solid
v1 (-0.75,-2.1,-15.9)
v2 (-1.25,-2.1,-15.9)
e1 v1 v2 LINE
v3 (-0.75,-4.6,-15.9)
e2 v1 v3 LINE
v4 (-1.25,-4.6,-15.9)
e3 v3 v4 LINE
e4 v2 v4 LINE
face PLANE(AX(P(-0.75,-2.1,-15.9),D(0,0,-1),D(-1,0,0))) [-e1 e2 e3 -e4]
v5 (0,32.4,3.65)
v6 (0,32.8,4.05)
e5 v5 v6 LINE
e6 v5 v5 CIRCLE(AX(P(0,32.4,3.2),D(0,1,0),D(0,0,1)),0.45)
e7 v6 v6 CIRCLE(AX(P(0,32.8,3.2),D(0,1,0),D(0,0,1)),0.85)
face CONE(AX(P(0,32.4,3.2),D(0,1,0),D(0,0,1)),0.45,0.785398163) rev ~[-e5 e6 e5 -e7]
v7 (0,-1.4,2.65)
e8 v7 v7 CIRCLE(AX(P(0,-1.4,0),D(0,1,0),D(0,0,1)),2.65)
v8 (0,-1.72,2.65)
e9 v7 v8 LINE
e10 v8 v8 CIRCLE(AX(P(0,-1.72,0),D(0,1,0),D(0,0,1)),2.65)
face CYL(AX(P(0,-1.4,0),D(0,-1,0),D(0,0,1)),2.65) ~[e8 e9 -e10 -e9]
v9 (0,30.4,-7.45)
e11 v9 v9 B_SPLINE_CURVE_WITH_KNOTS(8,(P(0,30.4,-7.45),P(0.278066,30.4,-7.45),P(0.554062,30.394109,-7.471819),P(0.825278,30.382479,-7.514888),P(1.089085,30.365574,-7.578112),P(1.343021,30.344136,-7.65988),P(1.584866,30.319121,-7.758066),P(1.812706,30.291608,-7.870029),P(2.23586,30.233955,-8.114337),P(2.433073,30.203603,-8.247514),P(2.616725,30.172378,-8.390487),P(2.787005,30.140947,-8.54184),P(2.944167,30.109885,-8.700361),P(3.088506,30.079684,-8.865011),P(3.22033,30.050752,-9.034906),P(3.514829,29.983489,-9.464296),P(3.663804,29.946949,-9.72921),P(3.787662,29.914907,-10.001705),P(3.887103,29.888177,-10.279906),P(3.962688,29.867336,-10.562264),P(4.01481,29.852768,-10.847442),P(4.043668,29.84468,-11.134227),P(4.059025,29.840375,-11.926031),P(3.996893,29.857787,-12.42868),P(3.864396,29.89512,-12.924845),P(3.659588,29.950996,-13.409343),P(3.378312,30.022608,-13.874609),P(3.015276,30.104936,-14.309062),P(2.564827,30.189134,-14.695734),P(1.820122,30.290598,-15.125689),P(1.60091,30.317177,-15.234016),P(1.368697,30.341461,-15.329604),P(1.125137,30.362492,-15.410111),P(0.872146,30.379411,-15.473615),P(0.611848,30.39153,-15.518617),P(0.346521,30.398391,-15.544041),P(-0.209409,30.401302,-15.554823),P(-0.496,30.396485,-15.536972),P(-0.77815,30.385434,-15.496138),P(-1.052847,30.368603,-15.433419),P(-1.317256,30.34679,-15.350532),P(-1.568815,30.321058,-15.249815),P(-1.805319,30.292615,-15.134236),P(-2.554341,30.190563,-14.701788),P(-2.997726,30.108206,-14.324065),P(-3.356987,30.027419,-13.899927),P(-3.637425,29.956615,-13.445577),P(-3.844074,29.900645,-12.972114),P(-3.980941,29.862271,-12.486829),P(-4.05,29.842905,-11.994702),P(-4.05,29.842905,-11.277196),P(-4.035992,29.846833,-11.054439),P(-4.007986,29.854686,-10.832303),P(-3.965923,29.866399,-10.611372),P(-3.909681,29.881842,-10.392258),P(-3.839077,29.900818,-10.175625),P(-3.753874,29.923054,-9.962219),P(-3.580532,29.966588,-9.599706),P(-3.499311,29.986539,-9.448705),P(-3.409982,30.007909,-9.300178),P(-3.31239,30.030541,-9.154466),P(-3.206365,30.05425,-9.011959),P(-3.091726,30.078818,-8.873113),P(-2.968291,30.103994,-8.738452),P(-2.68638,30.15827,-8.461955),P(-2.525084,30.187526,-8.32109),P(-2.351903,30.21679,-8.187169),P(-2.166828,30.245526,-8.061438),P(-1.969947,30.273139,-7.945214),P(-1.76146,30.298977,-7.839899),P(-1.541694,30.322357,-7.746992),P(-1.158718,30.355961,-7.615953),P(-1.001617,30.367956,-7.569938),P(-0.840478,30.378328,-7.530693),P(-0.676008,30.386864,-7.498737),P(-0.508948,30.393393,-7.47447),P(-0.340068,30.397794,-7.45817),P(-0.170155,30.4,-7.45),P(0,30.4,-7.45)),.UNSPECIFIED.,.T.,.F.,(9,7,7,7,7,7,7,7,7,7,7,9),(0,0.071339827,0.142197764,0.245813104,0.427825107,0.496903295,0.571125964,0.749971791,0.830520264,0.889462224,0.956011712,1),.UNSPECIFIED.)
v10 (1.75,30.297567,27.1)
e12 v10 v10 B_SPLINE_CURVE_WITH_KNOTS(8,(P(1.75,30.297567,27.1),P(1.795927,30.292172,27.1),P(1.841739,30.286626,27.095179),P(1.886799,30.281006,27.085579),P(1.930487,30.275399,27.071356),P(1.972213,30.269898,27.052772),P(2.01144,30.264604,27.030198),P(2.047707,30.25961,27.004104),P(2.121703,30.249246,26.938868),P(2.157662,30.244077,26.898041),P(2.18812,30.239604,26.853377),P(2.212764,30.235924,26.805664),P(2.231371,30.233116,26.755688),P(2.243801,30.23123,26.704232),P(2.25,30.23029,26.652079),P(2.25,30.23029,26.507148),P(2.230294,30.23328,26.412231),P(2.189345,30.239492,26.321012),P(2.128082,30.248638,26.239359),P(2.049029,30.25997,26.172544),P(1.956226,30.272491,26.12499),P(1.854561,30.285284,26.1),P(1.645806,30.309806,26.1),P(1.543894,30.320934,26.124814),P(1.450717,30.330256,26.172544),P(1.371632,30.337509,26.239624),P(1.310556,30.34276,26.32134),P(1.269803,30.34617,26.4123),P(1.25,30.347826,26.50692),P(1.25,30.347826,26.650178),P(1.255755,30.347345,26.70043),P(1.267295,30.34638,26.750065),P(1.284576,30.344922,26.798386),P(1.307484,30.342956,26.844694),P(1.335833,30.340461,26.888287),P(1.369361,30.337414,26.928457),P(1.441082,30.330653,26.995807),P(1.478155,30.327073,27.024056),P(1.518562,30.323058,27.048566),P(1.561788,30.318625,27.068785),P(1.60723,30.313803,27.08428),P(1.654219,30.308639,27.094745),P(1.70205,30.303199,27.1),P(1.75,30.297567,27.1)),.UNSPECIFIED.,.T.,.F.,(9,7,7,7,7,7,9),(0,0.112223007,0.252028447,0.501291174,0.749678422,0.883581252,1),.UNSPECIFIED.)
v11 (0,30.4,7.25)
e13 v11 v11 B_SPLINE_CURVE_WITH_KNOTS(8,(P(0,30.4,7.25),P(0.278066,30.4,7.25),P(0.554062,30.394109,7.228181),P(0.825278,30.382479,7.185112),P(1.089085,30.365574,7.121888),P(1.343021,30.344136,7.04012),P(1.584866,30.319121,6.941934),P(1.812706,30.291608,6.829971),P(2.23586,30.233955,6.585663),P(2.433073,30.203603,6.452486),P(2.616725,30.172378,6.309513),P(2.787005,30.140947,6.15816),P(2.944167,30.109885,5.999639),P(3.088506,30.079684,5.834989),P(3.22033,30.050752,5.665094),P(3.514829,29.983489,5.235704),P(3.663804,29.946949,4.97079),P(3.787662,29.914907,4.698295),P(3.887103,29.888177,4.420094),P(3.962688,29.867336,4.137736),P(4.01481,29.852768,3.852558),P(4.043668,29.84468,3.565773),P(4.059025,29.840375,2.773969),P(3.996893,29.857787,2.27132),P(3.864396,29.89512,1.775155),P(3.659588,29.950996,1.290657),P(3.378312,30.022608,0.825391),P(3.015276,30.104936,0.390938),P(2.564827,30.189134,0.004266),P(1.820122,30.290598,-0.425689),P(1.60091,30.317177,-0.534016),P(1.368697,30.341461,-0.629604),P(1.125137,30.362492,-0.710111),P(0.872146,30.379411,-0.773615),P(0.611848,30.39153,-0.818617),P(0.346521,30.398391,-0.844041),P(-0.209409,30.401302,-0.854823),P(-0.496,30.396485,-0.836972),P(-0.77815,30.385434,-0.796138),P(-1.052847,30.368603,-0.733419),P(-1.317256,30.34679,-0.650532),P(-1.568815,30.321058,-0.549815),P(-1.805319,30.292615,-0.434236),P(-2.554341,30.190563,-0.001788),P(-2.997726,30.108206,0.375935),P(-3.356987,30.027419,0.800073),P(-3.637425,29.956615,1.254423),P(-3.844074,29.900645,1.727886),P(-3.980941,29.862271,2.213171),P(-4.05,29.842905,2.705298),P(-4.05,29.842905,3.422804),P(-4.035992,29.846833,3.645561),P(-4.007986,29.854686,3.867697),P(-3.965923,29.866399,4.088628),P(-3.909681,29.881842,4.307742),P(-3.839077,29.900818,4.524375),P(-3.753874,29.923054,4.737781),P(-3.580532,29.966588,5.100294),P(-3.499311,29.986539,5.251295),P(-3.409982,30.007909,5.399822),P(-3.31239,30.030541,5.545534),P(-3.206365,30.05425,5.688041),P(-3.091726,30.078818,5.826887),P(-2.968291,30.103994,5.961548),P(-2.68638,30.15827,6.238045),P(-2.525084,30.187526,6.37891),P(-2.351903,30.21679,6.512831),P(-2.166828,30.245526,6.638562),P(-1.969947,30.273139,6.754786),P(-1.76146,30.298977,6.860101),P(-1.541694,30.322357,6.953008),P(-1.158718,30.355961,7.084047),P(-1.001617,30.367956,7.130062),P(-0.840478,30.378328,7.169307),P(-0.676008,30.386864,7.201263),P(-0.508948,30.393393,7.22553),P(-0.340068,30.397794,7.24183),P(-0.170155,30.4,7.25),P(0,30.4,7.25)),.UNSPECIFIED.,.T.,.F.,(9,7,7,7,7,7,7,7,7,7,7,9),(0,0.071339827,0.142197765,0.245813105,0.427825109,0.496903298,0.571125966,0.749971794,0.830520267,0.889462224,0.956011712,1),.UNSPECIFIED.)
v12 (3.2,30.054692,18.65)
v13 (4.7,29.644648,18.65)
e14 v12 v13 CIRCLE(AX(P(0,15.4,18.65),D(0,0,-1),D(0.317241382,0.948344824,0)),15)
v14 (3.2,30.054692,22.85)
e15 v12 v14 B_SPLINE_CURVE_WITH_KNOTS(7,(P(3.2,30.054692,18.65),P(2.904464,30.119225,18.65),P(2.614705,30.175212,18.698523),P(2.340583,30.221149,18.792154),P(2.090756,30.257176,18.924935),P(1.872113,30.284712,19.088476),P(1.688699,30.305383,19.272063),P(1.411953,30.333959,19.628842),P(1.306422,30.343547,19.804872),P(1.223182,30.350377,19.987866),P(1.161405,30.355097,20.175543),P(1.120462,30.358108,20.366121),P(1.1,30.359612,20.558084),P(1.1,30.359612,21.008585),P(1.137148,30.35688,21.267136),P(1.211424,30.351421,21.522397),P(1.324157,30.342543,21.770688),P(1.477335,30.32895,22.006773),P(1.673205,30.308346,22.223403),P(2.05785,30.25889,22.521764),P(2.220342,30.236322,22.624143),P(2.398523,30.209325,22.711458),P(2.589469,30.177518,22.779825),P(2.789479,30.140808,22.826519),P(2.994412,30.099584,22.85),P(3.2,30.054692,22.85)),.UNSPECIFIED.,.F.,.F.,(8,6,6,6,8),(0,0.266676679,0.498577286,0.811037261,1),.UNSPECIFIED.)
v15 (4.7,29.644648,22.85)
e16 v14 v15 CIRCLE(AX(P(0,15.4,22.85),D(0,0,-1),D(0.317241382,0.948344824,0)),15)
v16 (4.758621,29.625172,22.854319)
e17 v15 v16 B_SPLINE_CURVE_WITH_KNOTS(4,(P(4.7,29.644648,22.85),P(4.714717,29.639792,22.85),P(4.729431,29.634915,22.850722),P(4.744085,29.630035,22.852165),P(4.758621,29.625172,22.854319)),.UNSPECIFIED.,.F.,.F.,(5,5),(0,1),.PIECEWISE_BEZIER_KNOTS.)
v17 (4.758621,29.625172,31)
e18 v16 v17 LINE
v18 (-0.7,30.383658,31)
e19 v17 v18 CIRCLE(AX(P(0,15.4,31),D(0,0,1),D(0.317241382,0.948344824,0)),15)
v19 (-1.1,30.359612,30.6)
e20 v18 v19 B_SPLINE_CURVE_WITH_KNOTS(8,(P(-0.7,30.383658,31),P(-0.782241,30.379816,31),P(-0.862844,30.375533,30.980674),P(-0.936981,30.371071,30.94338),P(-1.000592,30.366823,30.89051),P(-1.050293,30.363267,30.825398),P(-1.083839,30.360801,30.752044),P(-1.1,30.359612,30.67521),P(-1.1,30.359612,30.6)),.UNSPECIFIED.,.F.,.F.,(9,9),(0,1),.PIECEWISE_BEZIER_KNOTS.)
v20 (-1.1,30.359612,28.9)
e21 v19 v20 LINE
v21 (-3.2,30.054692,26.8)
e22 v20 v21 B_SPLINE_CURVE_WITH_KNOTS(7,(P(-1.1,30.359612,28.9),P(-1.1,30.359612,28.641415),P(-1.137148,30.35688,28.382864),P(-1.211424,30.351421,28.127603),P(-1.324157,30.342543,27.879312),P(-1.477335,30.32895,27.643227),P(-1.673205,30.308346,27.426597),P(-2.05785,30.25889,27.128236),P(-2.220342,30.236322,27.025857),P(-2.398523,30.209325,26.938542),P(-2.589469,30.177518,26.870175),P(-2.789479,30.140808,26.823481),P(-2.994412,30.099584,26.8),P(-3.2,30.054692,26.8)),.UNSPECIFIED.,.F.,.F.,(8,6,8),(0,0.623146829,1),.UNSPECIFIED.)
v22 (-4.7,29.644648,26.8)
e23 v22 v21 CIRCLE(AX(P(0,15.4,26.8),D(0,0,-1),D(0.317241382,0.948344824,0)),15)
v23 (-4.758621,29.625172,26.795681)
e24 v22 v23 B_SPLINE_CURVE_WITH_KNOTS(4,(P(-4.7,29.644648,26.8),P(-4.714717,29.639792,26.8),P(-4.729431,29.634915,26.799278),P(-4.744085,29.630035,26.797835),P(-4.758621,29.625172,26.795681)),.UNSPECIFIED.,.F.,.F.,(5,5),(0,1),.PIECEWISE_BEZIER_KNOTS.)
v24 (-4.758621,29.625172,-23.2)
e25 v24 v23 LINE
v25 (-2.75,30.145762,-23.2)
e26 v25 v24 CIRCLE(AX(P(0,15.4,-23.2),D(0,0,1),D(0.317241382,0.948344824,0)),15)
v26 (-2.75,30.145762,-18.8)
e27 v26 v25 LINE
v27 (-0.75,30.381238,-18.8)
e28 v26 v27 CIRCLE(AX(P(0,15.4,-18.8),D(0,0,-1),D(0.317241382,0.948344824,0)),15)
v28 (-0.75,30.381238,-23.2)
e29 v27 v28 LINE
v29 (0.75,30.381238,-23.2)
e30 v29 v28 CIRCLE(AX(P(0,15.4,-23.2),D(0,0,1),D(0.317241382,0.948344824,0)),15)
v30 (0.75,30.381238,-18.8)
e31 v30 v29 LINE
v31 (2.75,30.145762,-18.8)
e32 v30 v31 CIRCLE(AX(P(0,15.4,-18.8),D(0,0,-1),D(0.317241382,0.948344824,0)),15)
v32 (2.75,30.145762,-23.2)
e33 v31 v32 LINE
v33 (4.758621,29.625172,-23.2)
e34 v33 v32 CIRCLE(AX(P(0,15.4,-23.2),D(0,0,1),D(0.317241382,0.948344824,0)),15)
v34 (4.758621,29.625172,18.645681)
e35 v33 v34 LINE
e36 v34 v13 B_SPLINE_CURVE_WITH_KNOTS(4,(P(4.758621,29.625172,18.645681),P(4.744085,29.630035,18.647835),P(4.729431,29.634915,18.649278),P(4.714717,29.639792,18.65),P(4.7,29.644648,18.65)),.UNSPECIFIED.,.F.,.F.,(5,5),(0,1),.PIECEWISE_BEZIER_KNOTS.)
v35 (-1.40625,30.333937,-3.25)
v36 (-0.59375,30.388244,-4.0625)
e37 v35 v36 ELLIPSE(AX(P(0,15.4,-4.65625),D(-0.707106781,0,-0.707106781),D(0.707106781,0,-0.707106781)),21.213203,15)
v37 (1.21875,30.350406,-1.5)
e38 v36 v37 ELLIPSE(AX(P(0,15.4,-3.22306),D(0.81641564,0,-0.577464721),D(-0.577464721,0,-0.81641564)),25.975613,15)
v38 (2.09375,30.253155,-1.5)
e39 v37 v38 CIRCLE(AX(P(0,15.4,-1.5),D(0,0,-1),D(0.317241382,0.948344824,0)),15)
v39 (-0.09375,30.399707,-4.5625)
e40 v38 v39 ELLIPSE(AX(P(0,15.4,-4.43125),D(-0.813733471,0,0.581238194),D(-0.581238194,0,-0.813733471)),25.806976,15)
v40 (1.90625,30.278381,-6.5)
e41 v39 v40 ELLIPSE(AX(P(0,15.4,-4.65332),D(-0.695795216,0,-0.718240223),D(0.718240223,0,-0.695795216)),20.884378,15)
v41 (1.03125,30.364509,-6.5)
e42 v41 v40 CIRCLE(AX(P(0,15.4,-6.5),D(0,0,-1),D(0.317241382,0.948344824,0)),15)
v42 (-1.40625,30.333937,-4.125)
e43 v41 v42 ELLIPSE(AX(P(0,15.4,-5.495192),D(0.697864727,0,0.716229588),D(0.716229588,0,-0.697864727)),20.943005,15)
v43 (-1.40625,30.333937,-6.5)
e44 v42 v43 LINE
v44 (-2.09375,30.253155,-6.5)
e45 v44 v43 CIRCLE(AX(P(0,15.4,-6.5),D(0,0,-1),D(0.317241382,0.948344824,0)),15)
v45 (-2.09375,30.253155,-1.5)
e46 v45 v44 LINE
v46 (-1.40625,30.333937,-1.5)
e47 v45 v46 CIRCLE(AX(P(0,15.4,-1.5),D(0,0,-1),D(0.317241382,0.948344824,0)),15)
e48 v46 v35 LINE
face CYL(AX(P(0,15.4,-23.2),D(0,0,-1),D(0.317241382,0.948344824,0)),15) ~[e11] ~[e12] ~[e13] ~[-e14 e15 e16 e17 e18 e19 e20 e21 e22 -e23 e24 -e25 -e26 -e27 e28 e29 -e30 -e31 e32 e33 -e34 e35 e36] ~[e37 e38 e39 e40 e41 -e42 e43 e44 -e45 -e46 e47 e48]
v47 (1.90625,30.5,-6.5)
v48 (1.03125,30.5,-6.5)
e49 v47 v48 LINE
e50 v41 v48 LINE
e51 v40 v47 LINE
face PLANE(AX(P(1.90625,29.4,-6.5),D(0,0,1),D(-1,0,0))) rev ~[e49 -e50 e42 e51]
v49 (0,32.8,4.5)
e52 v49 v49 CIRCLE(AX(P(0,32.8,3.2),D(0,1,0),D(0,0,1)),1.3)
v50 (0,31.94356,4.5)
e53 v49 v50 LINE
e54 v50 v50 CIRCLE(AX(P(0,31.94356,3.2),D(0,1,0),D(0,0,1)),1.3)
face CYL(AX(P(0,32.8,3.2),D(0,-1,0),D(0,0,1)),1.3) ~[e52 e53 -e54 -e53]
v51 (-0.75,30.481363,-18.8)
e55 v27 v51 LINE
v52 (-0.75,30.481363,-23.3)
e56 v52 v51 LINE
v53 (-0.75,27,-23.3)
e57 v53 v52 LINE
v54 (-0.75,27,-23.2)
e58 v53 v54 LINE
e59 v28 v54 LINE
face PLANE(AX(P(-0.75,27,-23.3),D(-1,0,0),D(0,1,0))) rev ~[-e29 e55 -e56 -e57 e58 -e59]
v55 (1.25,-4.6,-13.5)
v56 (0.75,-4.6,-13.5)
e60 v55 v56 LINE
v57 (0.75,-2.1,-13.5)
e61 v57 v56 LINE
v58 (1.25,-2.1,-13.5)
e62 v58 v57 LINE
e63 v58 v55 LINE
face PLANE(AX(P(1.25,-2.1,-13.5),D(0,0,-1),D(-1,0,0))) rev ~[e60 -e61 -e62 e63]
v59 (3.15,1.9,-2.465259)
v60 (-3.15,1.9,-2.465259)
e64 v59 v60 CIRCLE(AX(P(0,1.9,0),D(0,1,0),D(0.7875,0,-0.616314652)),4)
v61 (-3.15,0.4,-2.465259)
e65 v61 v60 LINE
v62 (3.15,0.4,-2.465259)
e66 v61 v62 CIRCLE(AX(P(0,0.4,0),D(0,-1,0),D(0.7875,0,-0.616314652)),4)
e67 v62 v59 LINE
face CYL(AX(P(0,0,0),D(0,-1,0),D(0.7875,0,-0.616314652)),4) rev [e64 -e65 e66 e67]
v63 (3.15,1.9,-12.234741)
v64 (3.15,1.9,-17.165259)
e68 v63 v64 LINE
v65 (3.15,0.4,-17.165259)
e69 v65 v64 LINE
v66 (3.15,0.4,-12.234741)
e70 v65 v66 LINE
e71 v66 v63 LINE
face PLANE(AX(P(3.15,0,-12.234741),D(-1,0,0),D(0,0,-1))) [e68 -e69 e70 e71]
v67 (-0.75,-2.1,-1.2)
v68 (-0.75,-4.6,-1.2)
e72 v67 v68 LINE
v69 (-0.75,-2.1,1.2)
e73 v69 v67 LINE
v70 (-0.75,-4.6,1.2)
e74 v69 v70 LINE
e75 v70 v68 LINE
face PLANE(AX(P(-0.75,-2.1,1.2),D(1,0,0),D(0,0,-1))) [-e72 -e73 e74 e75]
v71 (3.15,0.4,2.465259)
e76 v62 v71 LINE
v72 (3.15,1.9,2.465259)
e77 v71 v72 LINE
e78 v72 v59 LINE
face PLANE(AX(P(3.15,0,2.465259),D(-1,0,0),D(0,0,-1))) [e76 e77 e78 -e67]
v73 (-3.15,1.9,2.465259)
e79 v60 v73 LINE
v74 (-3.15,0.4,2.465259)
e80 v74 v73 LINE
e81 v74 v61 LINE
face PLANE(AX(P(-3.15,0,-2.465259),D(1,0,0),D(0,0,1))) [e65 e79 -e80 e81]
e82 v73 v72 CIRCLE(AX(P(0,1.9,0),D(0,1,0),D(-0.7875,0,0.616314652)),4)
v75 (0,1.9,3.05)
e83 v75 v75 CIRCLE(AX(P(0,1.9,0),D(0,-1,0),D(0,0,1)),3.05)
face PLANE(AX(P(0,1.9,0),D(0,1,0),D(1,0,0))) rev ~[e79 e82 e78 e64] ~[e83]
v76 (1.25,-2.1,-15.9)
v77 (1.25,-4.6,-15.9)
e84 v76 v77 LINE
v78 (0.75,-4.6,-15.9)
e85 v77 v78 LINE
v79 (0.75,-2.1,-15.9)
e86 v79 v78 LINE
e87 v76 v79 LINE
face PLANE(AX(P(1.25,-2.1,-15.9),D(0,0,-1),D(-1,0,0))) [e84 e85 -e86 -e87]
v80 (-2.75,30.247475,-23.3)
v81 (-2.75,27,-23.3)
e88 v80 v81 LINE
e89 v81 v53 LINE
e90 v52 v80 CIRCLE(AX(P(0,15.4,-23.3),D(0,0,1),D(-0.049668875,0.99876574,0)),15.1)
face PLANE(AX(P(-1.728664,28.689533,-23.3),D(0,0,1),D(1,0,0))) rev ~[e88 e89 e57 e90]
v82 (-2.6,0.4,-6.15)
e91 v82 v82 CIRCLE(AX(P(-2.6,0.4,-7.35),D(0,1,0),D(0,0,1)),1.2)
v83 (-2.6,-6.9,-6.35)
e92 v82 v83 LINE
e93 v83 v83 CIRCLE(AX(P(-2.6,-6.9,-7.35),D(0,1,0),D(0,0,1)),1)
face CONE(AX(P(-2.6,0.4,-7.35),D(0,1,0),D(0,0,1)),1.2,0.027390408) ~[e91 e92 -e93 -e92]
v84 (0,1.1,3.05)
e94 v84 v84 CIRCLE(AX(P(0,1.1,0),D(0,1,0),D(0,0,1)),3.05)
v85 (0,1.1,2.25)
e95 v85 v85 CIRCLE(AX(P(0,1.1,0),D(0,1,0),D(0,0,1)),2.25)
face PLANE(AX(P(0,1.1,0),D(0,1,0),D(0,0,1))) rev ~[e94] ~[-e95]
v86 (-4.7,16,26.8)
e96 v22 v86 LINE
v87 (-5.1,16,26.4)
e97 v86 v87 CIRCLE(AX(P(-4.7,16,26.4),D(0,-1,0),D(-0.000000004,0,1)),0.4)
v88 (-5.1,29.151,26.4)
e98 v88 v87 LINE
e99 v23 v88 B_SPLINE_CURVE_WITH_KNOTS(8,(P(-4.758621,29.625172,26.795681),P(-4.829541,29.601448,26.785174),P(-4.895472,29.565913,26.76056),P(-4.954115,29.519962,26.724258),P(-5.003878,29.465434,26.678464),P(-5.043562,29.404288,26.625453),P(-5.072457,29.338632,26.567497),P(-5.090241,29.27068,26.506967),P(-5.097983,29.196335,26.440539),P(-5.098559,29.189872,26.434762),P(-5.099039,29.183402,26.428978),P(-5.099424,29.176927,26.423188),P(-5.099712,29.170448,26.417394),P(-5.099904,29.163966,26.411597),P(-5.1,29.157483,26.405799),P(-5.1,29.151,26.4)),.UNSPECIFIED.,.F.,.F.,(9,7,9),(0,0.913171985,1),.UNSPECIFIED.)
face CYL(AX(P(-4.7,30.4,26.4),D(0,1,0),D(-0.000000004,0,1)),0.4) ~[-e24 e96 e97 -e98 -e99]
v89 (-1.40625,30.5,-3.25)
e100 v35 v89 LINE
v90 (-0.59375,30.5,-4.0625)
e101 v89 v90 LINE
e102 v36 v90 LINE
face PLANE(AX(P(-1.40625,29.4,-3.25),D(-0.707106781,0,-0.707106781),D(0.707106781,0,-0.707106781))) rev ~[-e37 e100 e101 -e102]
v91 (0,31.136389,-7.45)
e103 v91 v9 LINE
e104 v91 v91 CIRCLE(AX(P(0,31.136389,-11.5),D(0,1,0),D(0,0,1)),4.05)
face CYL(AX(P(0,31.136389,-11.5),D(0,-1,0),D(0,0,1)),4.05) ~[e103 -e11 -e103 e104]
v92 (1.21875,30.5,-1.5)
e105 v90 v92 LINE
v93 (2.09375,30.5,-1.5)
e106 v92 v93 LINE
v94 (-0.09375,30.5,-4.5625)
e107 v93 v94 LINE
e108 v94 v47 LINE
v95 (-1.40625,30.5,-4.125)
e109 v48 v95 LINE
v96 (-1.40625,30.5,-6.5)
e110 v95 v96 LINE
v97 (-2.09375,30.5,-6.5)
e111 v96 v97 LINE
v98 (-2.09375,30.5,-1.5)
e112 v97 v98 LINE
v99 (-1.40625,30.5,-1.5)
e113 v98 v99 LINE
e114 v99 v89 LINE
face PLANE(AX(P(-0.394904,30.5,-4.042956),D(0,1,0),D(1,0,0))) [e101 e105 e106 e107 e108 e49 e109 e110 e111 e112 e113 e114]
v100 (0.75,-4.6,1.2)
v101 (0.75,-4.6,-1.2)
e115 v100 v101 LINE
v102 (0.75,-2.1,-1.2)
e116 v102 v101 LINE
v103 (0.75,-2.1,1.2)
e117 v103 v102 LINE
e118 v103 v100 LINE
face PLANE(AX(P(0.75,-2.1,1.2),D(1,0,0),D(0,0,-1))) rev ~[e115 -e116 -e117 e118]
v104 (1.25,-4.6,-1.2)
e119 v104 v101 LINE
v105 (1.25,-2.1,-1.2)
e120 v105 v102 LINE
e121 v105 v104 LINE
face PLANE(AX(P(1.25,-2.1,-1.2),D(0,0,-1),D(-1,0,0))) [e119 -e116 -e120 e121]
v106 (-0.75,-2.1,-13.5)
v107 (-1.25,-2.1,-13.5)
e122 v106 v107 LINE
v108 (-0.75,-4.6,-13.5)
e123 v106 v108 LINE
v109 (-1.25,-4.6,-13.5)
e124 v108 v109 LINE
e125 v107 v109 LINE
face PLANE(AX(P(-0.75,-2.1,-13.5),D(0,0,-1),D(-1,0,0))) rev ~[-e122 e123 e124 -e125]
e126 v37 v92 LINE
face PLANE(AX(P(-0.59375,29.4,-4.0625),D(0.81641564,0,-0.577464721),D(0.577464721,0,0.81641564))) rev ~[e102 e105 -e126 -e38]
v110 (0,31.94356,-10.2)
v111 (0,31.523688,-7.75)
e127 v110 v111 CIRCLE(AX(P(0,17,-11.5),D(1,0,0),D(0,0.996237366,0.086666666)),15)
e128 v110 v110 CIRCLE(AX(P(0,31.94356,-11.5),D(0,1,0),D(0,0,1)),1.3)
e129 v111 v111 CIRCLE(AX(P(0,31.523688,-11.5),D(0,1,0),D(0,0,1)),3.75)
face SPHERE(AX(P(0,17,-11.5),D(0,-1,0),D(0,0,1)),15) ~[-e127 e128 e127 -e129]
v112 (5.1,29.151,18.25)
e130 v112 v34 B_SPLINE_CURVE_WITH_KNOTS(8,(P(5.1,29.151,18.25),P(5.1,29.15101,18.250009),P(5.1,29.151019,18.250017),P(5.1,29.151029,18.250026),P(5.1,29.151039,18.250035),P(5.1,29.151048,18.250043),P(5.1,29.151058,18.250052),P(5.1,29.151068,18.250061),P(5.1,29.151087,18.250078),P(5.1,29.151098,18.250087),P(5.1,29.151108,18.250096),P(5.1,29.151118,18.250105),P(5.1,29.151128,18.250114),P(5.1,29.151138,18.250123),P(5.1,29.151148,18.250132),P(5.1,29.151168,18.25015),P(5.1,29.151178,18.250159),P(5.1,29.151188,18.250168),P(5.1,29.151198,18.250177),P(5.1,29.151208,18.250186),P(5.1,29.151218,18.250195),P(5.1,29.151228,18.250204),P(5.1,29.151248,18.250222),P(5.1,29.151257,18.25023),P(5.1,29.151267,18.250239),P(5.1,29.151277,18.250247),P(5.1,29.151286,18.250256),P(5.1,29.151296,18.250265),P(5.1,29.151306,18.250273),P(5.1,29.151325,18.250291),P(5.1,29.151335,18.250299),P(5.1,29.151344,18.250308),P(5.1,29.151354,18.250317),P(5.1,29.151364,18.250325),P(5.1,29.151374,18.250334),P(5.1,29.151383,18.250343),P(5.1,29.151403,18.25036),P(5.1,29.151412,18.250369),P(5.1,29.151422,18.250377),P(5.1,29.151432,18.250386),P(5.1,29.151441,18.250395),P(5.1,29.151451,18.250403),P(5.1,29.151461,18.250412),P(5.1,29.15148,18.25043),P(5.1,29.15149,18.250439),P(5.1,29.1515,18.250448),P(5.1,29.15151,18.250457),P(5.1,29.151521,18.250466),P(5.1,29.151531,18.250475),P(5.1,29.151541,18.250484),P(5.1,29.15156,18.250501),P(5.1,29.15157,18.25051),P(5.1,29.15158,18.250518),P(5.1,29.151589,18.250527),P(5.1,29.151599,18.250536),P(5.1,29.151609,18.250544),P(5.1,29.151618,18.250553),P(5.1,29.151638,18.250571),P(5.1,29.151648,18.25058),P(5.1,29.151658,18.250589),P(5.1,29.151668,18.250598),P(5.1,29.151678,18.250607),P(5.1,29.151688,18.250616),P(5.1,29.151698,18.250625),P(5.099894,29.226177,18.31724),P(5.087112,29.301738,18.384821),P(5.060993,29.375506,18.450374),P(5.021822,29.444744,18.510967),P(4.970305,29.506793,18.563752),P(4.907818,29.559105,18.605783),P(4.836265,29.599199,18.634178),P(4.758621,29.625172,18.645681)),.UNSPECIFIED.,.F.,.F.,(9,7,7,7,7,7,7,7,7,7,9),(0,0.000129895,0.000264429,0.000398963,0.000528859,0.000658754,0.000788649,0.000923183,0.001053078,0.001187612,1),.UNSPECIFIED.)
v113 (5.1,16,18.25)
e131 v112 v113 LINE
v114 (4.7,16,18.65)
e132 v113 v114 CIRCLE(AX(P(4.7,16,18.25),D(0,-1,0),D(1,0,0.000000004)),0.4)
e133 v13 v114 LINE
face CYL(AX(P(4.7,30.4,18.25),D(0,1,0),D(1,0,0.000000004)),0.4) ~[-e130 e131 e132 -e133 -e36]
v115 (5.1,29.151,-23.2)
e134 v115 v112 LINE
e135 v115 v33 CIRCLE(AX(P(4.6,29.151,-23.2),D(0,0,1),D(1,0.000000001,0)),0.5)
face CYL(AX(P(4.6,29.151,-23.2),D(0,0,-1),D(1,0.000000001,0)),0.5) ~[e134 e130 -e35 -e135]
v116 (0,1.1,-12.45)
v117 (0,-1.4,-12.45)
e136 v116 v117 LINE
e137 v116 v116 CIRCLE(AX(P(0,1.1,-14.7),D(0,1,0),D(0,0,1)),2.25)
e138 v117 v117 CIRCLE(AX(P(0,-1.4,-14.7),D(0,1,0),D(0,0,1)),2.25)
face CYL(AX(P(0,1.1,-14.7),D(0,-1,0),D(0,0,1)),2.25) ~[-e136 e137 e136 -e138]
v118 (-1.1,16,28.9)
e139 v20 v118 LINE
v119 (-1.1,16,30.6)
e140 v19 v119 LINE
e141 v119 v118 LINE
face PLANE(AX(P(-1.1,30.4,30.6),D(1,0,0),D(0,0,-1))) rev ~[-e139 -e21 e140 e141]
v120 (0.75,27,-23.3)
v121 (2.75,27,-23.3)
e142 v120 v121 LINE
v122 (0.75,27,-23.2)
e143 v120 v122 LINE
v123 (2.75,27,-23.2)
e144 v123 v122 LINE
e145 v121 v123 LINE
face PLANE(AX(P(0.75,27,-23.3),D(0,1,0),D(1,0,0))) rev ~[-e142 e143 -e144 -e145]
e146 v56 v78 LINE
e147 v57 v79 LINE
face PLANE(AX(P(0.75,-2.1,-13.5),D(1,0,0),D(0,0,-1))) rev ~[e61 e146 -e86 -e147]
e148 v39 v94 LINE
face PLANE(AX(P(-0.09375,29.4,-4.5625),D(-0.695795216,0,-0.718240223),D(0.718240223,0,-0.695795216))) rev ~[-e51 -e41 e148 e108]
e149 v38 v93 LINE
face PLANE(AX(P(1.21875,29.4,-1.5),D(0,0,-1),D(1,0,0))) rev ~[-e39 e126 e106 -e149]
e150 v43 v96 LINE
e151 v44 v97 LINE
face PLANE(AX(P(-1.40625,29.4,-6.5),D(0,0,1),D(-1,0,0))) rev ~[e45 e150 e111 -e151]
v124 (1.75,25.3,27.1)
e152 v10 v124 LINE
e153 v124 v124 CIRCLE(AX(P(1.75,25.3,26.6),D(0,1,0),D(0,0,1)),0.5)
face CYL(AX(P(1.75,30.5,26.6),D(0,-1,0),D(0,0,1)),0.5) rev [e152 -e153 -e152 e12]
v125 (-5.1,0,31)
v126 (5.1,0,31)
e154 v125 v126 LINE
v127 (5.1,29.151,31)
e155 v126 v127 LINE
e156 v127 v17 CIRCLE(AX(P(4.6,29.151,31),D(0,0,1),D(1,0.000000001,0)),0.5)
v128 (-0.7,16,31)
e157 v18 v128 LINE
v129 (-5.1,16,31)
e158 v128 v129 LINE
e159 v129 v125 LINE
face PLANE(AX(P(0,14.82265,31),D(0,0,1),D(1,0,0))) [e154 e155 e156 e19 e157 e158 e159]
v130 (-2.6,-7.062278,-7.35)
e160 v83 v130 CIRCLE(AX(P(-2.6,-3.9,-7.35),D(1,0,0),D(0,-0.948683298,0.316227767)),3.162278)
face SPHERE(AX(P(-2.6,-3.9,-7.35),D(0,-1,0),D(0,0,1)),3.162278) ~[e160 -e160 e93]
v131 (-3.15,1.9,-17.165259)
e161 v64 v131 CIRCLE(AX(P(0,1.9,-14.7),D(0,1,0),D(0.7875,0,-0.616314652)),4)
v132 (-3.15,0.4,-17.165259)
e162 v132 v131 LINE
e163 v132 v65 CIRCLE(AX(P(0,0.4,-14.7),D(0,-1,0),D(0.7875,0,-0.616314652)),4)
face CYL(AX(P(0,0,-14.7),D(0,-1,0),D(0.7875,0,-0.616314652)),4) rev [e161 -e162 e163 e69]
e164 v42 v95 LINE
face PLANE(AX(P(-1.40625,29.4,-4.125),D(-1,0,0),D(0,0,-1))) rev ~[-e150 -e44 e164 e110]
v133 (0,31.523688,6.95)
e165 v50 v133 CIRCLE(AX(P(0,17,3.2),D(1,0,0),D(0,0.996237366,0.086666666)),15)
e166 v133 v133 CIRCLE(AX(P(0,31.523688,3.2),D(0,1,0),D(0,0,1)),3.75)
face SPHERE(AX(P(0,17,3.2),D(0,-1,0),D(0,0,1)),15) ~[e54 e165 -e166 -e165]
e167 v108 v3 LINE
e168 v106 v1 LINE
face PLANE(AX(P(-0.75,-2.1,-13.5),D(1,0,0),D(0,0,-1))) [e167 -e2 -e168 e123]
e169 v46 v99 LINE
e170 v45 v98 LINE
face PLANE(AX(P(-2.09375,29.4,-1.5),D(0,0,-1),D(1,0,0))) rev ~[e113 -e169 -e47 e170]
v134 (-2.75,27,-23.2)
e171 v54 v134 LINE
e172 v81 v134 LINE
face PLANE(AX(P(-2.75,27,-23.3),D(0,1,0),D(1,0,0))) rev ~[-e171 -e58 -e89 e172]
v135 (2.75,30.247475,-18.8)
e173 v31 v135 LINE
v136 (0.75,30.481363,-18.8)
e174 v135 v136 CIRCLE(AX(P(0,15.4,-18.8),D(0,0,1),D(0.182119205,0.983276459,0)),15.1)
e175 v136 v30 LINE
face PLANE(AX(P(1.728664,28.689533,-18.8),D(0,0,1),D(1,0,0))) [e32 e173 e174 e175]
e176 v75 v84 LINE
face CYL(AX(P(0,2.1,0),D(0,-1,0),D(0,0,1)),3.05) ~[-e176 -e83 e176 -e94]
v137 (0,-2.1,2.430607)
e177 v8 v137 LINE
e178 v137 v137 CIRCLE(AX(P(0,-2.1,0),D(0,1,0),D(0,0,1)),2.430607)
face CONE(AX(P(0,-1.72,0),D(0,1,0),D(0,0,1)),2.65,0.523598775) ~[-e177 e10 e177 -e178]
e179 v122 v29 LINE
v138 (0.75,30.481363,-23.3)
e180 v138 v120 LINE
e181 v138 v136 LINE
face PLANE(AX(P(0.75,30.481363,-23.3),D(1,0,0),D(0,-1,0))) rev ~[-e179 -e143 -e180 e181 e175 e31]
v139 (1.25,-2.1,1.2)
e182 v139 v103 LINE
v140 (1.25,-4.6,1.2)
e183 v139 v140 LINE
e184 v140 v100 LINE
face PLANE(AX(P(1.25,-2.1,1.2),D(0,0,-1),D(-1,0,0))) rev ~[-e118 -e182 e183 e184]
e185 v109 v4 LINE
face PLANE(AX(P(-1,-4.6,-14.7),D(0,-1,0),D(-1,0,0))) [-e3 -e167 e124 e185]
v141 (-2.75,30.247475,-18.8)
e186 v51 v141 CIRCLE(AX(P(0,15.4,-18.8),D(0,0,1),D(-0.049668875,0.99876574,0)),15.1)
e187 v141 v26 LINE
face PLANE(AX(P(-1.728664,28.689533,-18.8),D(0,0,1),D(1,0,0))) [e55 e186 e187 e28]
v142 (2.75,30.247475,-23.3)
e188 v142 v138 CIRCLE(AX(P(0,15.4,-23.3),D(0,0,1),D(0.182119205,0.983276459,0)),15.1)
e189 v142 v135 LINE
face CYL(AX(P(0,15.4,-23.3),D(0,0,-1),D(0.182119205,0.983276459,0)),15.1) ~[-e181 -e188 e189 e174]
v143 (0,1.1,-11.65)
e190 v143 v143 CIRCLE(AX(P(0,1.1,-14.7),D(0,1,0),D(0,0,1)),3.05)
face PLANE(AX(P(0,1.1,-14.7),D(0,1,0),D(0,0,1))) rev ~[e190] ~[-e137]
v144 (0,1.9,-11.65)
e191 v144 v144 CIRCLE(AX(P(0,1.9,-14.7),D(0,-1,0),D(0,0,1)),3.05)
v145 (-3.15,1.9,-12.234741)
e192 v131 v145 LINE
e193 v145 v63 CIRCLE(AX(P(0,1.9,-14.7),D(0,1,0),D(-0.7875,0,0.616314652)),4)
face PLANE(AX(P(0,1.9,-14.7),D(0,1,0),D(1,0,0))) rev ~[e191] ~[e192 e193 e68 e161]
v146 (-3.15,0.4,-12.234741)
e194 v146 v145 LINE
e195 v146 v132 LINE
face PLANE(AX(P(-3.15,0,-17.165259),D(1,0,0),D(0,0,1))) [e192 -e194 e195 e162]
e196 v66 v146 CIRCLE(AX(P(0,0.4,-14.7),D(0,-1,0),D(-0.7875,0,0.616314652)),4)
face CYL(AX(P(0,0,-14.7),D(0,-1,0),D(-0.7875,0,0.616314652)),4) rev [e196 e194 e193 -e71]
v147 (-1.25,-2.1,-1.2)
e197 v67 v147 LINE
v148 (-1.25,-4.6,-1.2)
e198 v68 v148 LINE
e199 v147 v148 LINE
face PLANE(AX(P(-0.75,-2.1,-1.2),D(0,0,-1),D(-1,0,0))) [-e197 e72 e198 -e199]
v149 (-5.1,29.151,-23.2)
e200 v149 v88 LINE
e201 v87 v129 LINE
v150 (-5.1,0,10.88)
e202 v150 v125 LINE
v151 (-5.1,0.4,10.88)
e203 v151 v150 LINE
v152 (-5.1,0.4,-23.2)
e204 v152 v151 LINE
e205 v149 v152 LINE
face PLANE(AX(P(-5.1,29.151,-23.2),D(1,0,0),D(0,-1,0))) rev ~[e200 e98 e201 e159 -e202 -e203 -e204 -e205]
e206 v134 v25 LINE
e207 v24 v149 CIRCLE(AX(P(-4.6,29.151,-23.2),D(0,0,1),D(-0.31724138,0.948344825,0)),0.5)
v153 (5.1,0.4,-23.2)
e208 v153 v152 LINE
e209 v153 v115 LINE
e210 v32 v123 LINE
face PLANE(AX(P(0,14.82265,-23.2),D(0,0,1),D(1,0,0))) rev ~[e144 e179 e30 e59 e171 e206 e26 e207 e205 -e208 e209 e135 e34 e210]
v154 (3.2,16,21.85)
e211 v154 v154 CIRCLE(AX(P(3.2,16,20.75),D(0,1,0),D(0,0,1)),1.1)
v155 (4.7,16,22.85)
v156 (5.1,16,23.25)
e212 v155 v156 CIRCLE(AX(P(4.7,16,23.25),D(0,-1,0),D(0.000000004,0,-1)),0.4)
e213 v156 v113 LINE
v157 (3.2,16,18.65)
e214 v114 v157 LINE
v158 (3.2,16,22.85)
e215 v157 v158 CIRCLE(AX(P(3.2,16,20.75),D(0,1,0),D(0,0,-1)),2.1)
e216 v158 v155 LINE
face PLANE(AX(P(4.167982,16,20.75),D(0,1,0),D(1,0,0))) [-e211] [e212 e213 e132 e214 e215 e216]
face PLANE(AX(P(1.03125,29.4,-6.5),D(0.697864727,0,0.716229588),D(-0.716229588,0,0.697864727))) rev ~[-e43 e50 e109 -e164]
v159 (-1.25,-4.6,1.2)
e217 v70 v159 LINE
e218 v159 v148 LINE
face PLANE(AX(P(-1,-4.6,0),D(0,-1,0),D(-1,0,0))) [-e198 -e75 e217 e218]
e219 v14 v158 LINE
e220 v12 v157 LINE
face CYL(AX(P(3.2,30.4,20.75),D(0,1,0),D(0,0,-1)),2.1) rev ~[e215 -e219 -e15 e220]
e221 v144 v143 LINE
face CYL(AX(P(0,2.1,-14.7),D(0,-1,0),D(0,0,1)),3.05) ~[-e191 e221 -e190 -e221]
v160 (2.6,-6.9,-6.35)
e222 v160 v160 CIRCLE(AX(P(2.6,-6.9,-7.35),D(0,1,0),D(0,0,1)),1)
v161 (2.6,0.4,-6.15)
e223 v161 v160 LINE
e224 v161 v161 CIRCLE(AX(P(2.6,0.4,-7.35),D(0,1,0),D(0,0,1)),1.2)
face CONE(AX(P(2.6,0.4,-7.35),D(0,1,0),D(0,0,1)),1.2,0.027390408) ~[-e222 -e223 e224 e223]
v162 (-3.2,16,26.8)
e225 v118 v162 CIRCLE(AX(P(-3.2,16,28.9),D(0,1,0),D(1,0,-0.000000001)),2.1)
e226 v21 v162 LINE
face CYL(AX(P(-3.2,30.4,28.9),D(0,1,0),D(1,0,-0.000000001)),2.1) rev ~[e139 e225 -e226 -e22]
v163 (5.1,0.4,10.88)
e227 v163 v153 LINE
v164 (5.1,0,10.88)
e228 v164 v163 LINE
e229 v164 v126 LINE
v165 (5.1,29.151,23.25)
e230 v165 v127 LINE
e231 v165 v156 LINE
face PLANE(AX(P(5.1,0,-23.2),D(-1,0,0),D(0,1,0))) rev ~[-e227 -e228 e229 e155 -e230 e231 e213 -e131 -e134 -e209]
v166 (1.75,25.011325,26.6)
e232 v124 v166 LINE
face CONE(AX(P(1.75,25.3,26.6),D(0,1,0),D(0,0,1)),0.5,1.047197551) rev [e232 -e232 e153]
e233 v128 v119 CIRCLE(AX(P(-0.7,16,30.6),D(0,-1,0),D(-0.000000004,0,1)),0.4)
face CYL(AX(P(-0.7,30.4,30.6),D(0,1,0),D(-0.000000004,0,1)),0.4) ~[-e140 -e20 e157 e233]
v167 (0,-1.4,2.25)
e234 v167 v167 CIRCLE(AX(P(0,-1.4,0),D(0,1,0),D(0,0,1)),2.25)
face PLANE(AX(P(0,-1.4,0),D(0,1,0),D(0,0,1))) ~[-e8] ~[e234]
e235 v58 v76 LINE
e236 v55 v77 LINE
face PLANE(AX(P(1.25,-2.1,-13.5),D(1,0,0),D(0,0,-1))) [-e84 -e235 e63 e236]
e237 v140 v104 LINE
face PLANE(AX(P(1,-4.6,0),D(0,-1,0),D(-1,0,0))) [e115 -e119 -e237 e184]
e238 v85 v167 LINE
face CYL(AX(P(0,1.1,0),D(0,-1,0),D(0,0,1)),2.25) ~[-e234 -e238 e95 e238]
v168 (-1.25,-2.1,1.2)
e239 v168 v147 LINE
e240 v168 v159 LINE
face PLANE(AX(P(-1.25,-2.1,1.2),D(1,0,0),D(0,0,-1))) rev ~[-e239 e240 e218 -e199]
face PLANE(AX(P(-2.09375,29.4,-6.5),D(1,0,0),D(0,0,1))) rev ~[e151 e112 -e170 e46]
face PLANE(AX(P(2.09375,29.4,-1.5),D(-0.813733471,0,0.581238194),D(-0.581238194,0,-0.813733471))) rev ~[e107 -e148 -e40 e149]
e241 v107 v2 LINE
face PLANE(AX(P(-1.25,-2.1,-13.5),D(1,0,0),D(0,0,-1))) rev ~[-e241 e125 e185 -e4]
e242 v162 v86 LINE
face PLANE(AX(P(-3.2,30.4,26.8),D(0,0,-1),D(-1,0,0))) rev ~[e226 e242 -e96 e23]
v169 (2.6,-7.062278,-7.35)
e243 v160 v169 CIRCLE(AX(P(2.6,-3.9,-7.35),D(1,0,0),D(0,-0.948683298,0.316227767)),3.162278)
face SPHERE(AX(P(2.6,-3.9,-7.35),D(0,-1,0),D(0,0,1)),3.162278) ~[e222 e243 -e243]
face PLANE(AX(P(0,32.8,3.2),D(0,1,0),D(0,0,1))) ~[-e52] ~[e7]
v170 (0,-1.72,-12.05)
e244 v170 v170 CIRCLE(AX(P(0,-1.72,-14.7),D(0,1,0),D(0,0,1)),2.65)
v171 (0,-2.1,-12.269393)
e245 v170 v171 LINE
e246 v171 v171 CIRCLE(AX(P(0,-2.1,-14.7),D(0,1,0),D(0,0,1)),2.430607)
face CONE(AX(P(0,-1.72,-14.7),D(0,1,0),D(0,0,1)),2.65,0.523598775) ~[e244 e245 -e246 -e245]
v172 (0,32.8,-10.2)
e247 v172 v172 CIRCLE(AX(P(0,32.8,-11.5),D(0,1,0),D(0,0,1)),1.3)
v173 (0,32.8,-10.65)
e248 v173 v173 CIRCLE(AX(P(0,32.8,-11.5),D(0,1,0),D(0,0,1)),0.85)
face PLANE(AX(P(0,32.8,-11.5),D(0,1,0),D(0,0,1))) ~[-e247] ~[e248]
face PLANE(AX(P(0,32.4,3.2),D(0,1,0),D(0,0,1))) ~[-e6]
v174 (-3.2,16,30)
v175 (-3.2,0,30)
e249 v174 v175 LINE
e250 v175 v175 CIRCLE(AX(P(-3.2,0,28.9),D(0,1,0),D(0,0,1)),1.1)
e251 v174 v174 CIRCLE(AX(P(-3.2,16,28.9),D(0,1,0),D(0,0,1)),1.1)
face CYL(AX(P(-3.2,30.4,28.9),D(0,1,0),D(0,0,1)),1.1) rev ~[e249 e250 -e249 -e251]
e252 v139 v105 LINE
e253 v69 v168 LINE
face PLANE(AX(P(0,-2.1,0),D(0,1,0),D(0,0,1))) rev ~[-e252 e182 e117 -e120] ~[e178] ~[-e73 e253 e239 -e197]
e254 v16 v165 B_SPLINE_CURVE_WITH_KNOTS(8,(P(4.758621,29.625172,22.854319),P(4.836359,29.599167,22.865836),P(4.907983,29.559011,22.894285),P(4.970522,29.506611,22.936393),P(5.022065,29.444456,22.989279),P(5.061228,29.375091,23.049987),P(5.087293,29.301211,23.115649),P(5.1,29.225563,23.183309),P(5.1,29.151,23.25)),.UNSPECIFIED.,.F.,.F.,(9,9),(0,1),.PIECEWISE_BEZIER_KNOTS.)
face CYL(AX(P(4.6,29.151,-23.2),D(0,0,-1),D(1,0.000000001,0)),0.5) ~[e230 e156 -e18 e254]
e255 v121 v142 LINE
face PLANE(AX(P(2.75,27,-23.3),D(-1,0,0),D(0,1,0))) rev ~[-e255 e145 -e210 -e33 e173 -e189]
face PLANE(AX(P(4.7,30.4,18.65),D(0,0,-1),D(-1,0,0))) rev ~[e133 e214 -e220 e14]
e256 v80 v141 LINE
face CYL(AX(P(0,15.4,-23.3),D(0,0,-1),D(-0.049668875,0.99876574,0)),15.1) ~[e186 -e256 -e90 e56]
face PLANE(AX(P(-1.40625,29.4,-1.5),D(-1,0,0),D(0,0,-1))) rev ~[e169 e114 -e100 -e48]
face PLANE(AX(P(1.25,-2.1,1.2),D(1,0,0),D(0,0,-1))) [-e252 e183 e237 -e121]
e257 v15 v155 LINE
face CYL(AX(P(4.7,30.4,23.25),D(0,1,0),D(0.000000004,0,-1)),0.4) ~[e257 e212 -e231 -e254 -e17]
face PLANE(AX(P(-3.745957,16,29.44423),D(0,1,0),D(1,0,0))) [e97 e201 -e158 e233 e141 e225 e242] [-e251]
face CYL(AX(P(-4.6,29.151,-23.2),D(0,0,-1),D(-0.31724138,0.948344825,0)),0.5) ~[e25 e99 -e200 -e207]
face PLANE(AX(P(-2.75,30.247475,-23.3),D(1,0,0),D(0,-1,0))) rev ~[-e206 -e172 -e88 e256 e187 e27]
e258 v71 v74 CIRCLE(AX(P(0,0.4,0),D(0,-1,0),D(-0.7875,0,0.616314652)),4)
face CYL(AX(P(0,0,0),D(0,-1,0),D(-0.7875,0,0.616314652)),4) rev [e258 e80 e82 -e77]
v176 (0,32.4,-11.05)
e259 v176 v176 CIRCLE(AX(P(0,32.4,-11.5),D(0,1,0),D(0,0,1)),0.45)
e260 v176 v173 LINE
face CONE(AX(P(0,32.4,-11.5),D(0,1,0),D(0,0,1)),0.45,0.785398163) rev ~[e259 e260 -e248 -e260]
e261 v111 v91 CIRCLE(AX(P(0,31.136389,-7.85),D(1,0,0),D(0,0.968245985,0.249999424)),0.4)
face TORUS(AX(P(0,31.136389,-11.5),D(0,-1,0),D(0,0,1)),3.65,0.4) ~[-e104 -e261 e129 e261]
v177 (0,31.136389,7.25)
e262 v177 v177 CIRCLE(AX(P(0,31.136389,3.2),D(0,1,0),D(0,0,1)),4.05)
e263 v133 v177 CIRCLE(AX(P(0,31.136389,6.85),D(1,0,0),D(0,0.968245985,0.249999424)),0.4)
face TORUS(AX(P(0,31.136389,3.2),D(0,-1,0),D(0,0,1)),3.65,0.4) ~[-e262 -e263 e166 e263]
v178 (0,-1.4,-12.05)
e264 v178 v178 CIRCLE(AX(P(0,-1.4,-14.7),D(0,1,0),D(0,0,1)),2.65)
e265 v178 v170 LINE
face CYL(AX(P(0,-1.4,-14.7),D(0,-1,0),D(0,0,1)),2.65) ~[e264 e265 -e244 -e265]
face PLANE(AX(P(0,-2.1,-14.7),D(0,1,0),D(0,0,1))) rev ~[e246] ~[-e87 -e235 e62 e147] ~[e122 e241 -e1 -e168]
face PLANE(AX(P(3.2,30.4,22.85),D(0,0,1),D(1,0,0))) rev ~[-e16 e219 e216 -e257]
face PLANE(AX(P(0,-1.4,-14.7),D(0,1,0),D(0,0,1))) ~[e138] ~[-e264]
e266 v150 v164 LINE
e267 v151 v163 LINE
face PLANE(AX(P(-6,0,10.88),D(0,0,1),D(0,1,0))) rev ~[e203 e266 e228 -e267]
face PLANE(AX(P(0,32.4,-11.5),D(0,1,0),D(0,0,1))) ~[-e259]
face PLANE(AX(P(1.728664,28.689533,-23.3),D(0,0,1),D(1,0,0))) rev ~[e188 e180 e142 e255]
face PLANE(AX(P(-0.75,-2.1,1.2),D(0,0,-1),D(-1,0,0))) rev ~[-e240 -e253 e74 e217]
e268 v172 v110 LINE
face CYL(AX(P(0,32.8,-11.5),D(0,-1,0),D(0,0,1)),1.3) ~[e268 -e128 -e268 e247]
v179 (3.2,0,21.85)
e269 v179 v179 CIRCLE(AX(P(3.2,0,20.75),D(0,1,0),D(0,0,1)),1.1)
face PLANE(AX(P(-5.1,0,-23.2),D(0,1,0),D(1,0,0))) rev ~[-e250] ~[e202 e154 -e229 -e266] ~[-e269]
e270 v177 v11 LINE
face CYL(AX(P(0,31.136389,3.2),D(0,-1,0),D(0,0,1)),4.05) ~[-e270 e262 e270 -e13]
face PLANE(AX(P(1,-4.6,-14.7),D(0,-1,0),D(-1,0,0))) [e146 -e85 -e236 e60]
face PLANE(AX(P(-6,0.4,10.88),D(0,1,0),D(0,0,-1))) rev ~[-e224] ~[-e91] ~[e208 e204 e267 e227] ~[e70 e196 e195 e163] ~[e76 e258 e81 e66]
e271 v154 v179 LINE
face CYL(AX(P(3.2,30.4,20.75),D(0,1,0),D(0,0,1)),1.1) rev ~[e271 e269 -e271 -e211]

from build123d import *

# Parameters (mm, degrees)
BOSS_EXTRUDE1_DEPTH     = 54.2
BOSS_EXTRUDE2_DEPTH     = 1.1
SKETCH3_R               = 1.1
CUT_EXTRUDE1_DEPTH      = 31
CUT_EXTRUDE2_DEPTH      = 14.4
SKETCH5_R               = 1.1
CUT_EXTRUDE3_DEPTH      = 31
CUT_EXTRUDE4_DEPTH      = 14.4
CUT_EXTRUDE5_DEPTH      = 6
CUT_EXTRUDE5_DEPTH_BACK = 6
SKETCH7_W               = 34.1
SKETCH7_H               = 0.4
CUT_EXTRUDE6_DEPTH      = 1.9
CUT_EXTRUDE7_DEPTH      = 1.9
SKETCH14_W              = 0.5
SKETCH14_H              = 2.4
BOSS_EXTRUDE3_DEPTH     = 2.5
SKETCH15_W              = 0.5
SKETCH15_H              = 2.4
BOSS_EXTRUDE4_DEPTH     = 2.5
SKETCH16_W              = 0.5
SKETCH16_H              = 2.4
BOSS_EXTRUDE5_DEPTH     = 2.5
SKETCH17_W              = 0.5
SKETCH17_H              = 2.4
BOSS_EXTRUDE6_DEPTH     = 2.5
BOSS_EXTRUDE7_DEPTH     = 4.5
BOSS_EXTRUDE8_DEPTH     = 4.5


with BuildPart() as part:
    # Sketch1 → Boss-Extrude1 (new body)
    with BuildSketch(Plane.XY.offset(-23.2)):
        with BuildLine():
            Line((-5.1, 29.150999964), (-5.1, 0))
            Line((-5.1, 0), (5.1, 0))
            Line((5.1, 0), (5.1, 29.150999964))
            ThreePointArc((5.1, 29.150999964), (5.005777258, 29.443138316), (4.758620732, 29.625172362))
            ThreePointArc((4.758620732, 29.625172362), (2.2e-08, 30.4), (-4.75862069, 29.625172376))
            ThreePointArc((-4.75862069, 29.625172376), (-5.005777245, 29.443138334), (-5.1, 29.150999964))
        make_face()
    extrude(amount=BOSS_EXTRUDE1_DEPTH)

    # Sketch2 → Boss-Extrude2 (add)
    with BuildSketch(Plane(origin=(0, 29.4, 0), x_dir=(1, 0, 0), z_dir=(0, 1, 0))):
        Polygon((-2.09375, 1.5), (-1.40625, 1.5), (-1.40625, 3.25), (-0.59375, 4.0625), (1.21875, 1.5), (2.09375, 1.5), (-0.09375, 4.5625), (1.90625, 6.5), (1.03125, 6.5), (-1.40625, 4.125), (-1.40625, 6.5), (-2.09375, 6.5), align=None)
    extrude(amount=BOSS_EXTRUDE2_DEPTH)

    # Sketch3 → Cut-Extrude1 (cut)
    with BuildSketch(Plane(origin=(0, 30.4, 0), x_dir=(1, 0, 0), z_dir=(0, 1, 0))):
        with Locations(Location((3.2, -20.75, 0), (0, 0, 270))):
            Circle(SKETCH3_R)
    extrude(amount=-CUT_EXTRUDE1_DEPTH, mode=Mode.SUBTRACT)

    # Sketch4 → Cut-Extrude2 (cut)
    with BuildSketch(Plane(origin=(0, 30.4, 0), x_dir=(1, 0, 0), z_dir=(0, 1, 0))):
        with BuildLine():
            Line((3.2, -22.85), (4.7, -22.85))
            ThreePointArc((4.7, -22.85), (4.982842712, -22.967157288), (5.1, -23.25))
            Line((5.1, -23.25), (6.2, -23.25))
            Line((6.2, -23.25), (6.2, -18.25))
            Line((6.2, -18.25), (5.1, -18.25))
            ThreePointArc((5.1, -18.25), (4.982842712, -18.532842712), (4.7, -18.65))
            Line((4.7, -18.65), (3.2, -18.65))
            ThreePointArc((3.2, -18.65), (1.1, -20.75), (3.2, -22.85))
        make_face()
    extrude(amount=-CUT_EXTRUDE2_DEPTH, mode=Mode.SUBTRACT)

    # Sketch5 → Cut-Extrude3 (cut)
    with BuildSketch(Plane(origin=(0, 30.4, 0), x_dir=(1, 0, 0), z_dir=(0, 1, 0))):
        with Locations(Location((-3.2, -28.9, 0), (0, 0, 270))):
            Circle(SKETCH5_R)
    extrude(amount=-CUT_EXTRUDE3_DEPTH, mode=Mode.SUBTRACT)

    # Sketch6 → Cut-Extrude4 (cut)
    with BuildSketch(Plane(origin=(0, 30.4, 0), x_dir=(1, 0, 0), z_dir=(0, 1, 0))):
        with BuildLine():
            Line((-6.2, -26.4), (-6.2, -31.9))
            Line((-6.2, -31.9), (-0.7, -31.9))
            Line((-0.7, -31.9), (-0.7, -31))
            ThreePointArc((-0.7, -31), (-0.982842712, -30.882842712), (-1.1, -30.6))
            Line((-1.1, -30.6), (-1.1, -28.9))
            ThreePointArc((-1.1, -28.9), (-1.71507576, -27.41507576), (-3.2, -26.8))
            Line((-3.2, -26.8), (-4.7, -26.8))
            ThreePointArc((-4.7, -26.8), (-4.982842712, -26.682842712), (-5.1, -26.4))
            Line((-5.1, -26.4), (-6.2, -26.4))
        make_face()
    extrude(amount=-CUT_EXTRUDE4_DEPTH, mode=Mode.SUBTRACT)

    # Sketch7 → Cut-Extrude5 (cut, two sides: drawn at the far end of the back side and taken through both)
    with BuildSketch(Plane(origin=(0, 0, 0), x_dir=(0, 0, -1), z_dir=(1, 0, 0)).offset(-CUT_EXTRUDE5_DEPTH_BACK)):
        with Locations((6.17, 0.2)):
            Rectangle(SKETCH7_W, SKETCH7_H)
    extrude(amount=CUT_EXTRUDE5_DEPTH + CUT_EXTRUDE5_DEPTH_BACK, mode=Mode.SUBTRACT)

    # Sketch8 → Cut-Extrude6 (cut)
    with BuildSketch(Plane(origin=(0, 0, 0), x_dir=(1, 0, 0), z_dir=(0, 1, 0))):
        with BuildLine():
            Line((-3.15, 2.465258607), (-3.15, -2.465258607))
            ThreePointArc((-3.15, -2.465258607), (0, -4), (3.15, -2.465258607))
            Line((3.15, -2.465258607), (3.15, 2.465258607))
            ThreePointArc((3.15, 2.465258607), (0, 4), (-3.15, 2.465258607))
        make_face()
    extrude(amount=CUT_EXTRUDE6_DEPTH, mode=Mode.SUBTRACT)

    # Sketch9 → Cut-Extrude7 (cut)
    with BuildSketch(Plane(origin=(0, 0, 0), x_dir=(1, 0, 0), z_dir=(0, 1, 0))):
        with BuildLine():
            Line((-3.15, 17.165258607), (-3.15, 12.234741393))
            ThreePointArc((-3.15, 12.234741393), (0, 10.7), (3.15, 12.234741393))
            Line((3.15, 12.234741393), (3.15, 17.165258607))
            ThreePointArc((3.15, 17.165258607), (0, 18.7), (-3.15, 17.165258607))
        make_face()
    extrude(amount=CUT_EXTRUDE7_DEPTH, mode=Mode.SUBTRACT)

    # Sketch10 → Revolve1 (revolve)
    with BuildSketch(Plane(origin=(0, 0, 0), x_dir=(0, 0, -1), z_dir=(1, 0, 0)), mode=Mode.PRIVATE) as revolve1_sk:
        Polygon((0, 2.1), (3.05, 2.1), (3.05, 1.1), (2.25, 1.1), (2.25, -1.4), (2.65, -1.4), (2.65, -1.72), (2.430606898, -2.1), (0, -2.1), align=None)
    revolve(revolve1_sk.sketch.rotate(Axis((0, -2.1, 0), (0, 1, 0)), 180), axis=Axis((0, -2.1, 0), (0, 1, 0)))

    # Sketch11 → Revolve2 (revolve)
    with BuildSketch(Plane(origin=(0, 0, 0), x_dir=(0, 0, -1), z_dir=(1, 0, 0)), mode=Mode.PRIVATE) as revolve2_sk:
        Polygon((14.7, 2.1), (17.75, 2.1), (17.75, 1.1), (16.95, 1.1), (16.95, -1.4), (17.35, -1.4), (17.35, -1.72), (17.130606898, -2.1), (14.7, -2.1), align=None)
    revolve(revolve2_sk.sketch.rotate(Axis((0, -2.1, -14.7), (0, 1, 0)), 180), axis=Axis((0, -2.1, -14.7), (0, 1, 0)))

    # Sketch12 → Revolve3 (revolve)
    with BuildSketch(Plane.XY.offset(-7.35), mode=Mode.PRIVATE) as revolve3_sk:
        with BuildLine():
            Line((2.6, 0.4), (3.8, 0.4))
            Line((3.8, 0.4), (3.6, -6.9))
            ThreePointArc((3.6, -6.9), (3.106540729, -7.021444616), (2.6, -7.06227766))
            Line((2.6, -7.06227766), (2.6, 0.4))
        make_face()
    revolve(revolve3_sk.sketch.rotate(Axis((2.6, -7.06227766, -7.35), (0, 1, 0)), 270), axis=Axis((2.6, -7.06227766, -7.35), (0, 1, 0)))

    # Sketch13 → Revolve4 (revolve)
    with BuildSketch(Plane.XY.offset(-7.35), mode=Mode.PRIVATE) as revolve4_sk:
        with BuildLine():
            Line((-2.6, 0.4), (-1.4, 0.4))
            Line((-1.4, 0.4), (-1.6, -6.9))
            ThreePointArc((-1.6, -6.9), (-2.093459271, -7.021444616), (-2.6, -7.06227766))
            Line((-2.6, -7.06227766), (-2.6, 0.4))
        make_face()
    revolve(revolve4_sk.sketch.rotate(Axis((-2.6, -7.06227766, -7.35), (0, 1, 0)), 270), axis=Axis((-2.6, -7.06227766, -7.35), (0, 1, 0)))

    # Sketch14 → Boss-Extrude3 (add)
    with BuildSketch(Plane(origin=(0, -2.1, 0), x_dir=(-1, 0, 0), z_dir=(0, -1, 0))):
        with Locations((-1, 0)):
            Rectangle(SKETCH14_W, SKETCH14_H)
    extrude(amount=BOSS_EXTRUDE3_DEPTH)

    # Sketch15 → Boss-Extrude4 (add)
    with BuildSketch(Plane(origin=(0, -2.1, 0), x_dir=(-1, 0, 0), z_dir=(0, -1, 0))):
        with Locations((1, 0)):
            Rectangle(SKETCH15_W, SKETCH15_H)
    extrude(amount=BOSS_EXTRUDE4_DEPTH)

    # Sketch16 → Boss-Extrude5 (add)
    with BuildSketch(Plane(origin=(0, -2.1, 0), x_dir=(-1, 0, 0), z_dir=(0, -1, 0))):
        with Locations((-1, 14.7)):
            Rectangle(SKETCH16_W, SKETCH16_H)
    extrude(amount=BOSS_EXTRUDE5_DEPTH)

    # Sketch17 → Boss-Extrude6 (add)
    with BuildSketch(Plane(origin=(0, -2.1, 0), x_dir=(-1, 0, 0), z_dir=(0, -1, 0))):
        with Locations((1, 14.7)):
            Rectangle(SKETCH17_W, SKETCH17_H)
    extrude(amount=BOSS_EXTRUDE6_DEPTH)

    # Sketch18 → Revolve5 (revolve)
    with BuildSketch(Plane(origin=(0, 0, 0), x_dir=(0, 0, -1), z_dir=(1, 0, 0)), mode=Mode.PRIVATE) as revolve5_sk:
        with BuildLine():
            Line((-3.2, 32.4), (-2.75, 32.4))
            Line((-2.75, 32.4), (-2.35, 32.8))
            Line((-2.35, 32.8), (-1.9, 32.8))
            Line((-1.9, 32.8), (-1.9, 31.943560486))
            ThreePointArc((-1.9, 31.943560486), (-0.666287758, 31.784461515), (0.549999769, 31.523687608))
            ThreePointArc((0.549999769, 31.523687608), (0.766227693, 31.381338282), (0.85, 31.136389214))
            Line((0.85, 31.136389214), (0.85, 28.1))
            Line((0.85, 28.1), (-3.2, 28.1))
            Line((-3.2, 28.1), (-3.2, 32.4))
        make_face()
    revolve(revolve5_sk.sketch.rotate(Axis((0, 28.1, 3.2), (0, 1, 0)), 180), axis=Axis((0, 28.1, 3.2), (0, 1, 0)))

    # Sketch19 → Revolve6 (revolve)
    with BuildSketch(Plane(origin=(0, 0, 0), x_dir=(0, 0, -1), z_dir=(1, 0, 0)), mode=Mode.PRIVATE) as revolve6_sk:
        with BuildLine():
            Line((11.5, 32.4), (11.95, 32.4))
            Line((11.95, 32.4), (12.35, 32.8))
            Line((12.35, 32.8), (12.8, 32.8))
            Line((12.8, 32.8), (12.8, 31.943560486))
            ThreePointArc((12.8, 31.943560486), (14.033712242, 31.784461515), (15.249999769, 31.523687608))
            ThreePointArc((15.249999769, 31.523687608), (15.466227693, 31.381338282), (15.55, 31.136389214))
            Line((15.55, 31.136389214), (15.55, 28.1))
            Line((15.55, 28.1), (11.5, 28.1))
            Line((11.5, 28.1), (11.5, 32.4))
        make_face()
    revolve(revolve6_sk.sketch.rotate(Axis((0, 28.1, -11.5), (0, 1, 0)), 180), axis=Axis((0, 28.1, -11.5), (0, 1, 0)))

    # Sketch20 → Cut-Revolve1 (revolve, cut)
    with BuildSketch(Plane.XY.offset(26.6), mode=Mode.PRIVATE) as cut_revolve1_sk:
        Polygon((1.75, 30.5), (2.25, 30.5), (2.25, 25.3), (1.75, 25.011324865), align=None)
    revolve(cut_revolve1_sk.sketch.rotate(Axis((1.75, 25.011324865, 26.6), (0, 1, 0)), 270), axis=Axis((1.75, 25.011324865, 26.6), (0, 1, 0)), mode=Mode.SUBTRACT)

    # Sketch21 → Boss-Extrude7 (add)
    with BuildSketch(Plane.XY.offset(-23.3)):
        with BuildLine():
            Line((0.75, 30.481362671), (0.75, 27))
            Line((0.75, 27), (2.75, 27))
            Line((2.75, 27), (2.75, 30.247474533))
            ThreePointArc((2.75, 30.247474533), (1.753903052, 30.397793974), (0.75, 30.481362671))
        make_face()
    extrude(amount=BOSS_EXTRUDE7_DEPTH)

    # Sketch22 → Boss-Extrude8 (add)
    with BuildSketch(Plane.XY.offset(-23.3)):
        with BuildLine():
            Line((-2.75, 30.247474533), (-2.75, 27))
            Line((-2.75, 27), (-0.75, 27))
            Line((-0.75, 27), (-0.75, 30.481362671))
            ThreePointArc((-0.75, 30.481362671), (-1.753903052, 30.397793974), (-2.75, 30.247474533))
        make_face()
    extrude(amount=BOSS_EXTRUDE8_DEPTH)


solid = part.part
